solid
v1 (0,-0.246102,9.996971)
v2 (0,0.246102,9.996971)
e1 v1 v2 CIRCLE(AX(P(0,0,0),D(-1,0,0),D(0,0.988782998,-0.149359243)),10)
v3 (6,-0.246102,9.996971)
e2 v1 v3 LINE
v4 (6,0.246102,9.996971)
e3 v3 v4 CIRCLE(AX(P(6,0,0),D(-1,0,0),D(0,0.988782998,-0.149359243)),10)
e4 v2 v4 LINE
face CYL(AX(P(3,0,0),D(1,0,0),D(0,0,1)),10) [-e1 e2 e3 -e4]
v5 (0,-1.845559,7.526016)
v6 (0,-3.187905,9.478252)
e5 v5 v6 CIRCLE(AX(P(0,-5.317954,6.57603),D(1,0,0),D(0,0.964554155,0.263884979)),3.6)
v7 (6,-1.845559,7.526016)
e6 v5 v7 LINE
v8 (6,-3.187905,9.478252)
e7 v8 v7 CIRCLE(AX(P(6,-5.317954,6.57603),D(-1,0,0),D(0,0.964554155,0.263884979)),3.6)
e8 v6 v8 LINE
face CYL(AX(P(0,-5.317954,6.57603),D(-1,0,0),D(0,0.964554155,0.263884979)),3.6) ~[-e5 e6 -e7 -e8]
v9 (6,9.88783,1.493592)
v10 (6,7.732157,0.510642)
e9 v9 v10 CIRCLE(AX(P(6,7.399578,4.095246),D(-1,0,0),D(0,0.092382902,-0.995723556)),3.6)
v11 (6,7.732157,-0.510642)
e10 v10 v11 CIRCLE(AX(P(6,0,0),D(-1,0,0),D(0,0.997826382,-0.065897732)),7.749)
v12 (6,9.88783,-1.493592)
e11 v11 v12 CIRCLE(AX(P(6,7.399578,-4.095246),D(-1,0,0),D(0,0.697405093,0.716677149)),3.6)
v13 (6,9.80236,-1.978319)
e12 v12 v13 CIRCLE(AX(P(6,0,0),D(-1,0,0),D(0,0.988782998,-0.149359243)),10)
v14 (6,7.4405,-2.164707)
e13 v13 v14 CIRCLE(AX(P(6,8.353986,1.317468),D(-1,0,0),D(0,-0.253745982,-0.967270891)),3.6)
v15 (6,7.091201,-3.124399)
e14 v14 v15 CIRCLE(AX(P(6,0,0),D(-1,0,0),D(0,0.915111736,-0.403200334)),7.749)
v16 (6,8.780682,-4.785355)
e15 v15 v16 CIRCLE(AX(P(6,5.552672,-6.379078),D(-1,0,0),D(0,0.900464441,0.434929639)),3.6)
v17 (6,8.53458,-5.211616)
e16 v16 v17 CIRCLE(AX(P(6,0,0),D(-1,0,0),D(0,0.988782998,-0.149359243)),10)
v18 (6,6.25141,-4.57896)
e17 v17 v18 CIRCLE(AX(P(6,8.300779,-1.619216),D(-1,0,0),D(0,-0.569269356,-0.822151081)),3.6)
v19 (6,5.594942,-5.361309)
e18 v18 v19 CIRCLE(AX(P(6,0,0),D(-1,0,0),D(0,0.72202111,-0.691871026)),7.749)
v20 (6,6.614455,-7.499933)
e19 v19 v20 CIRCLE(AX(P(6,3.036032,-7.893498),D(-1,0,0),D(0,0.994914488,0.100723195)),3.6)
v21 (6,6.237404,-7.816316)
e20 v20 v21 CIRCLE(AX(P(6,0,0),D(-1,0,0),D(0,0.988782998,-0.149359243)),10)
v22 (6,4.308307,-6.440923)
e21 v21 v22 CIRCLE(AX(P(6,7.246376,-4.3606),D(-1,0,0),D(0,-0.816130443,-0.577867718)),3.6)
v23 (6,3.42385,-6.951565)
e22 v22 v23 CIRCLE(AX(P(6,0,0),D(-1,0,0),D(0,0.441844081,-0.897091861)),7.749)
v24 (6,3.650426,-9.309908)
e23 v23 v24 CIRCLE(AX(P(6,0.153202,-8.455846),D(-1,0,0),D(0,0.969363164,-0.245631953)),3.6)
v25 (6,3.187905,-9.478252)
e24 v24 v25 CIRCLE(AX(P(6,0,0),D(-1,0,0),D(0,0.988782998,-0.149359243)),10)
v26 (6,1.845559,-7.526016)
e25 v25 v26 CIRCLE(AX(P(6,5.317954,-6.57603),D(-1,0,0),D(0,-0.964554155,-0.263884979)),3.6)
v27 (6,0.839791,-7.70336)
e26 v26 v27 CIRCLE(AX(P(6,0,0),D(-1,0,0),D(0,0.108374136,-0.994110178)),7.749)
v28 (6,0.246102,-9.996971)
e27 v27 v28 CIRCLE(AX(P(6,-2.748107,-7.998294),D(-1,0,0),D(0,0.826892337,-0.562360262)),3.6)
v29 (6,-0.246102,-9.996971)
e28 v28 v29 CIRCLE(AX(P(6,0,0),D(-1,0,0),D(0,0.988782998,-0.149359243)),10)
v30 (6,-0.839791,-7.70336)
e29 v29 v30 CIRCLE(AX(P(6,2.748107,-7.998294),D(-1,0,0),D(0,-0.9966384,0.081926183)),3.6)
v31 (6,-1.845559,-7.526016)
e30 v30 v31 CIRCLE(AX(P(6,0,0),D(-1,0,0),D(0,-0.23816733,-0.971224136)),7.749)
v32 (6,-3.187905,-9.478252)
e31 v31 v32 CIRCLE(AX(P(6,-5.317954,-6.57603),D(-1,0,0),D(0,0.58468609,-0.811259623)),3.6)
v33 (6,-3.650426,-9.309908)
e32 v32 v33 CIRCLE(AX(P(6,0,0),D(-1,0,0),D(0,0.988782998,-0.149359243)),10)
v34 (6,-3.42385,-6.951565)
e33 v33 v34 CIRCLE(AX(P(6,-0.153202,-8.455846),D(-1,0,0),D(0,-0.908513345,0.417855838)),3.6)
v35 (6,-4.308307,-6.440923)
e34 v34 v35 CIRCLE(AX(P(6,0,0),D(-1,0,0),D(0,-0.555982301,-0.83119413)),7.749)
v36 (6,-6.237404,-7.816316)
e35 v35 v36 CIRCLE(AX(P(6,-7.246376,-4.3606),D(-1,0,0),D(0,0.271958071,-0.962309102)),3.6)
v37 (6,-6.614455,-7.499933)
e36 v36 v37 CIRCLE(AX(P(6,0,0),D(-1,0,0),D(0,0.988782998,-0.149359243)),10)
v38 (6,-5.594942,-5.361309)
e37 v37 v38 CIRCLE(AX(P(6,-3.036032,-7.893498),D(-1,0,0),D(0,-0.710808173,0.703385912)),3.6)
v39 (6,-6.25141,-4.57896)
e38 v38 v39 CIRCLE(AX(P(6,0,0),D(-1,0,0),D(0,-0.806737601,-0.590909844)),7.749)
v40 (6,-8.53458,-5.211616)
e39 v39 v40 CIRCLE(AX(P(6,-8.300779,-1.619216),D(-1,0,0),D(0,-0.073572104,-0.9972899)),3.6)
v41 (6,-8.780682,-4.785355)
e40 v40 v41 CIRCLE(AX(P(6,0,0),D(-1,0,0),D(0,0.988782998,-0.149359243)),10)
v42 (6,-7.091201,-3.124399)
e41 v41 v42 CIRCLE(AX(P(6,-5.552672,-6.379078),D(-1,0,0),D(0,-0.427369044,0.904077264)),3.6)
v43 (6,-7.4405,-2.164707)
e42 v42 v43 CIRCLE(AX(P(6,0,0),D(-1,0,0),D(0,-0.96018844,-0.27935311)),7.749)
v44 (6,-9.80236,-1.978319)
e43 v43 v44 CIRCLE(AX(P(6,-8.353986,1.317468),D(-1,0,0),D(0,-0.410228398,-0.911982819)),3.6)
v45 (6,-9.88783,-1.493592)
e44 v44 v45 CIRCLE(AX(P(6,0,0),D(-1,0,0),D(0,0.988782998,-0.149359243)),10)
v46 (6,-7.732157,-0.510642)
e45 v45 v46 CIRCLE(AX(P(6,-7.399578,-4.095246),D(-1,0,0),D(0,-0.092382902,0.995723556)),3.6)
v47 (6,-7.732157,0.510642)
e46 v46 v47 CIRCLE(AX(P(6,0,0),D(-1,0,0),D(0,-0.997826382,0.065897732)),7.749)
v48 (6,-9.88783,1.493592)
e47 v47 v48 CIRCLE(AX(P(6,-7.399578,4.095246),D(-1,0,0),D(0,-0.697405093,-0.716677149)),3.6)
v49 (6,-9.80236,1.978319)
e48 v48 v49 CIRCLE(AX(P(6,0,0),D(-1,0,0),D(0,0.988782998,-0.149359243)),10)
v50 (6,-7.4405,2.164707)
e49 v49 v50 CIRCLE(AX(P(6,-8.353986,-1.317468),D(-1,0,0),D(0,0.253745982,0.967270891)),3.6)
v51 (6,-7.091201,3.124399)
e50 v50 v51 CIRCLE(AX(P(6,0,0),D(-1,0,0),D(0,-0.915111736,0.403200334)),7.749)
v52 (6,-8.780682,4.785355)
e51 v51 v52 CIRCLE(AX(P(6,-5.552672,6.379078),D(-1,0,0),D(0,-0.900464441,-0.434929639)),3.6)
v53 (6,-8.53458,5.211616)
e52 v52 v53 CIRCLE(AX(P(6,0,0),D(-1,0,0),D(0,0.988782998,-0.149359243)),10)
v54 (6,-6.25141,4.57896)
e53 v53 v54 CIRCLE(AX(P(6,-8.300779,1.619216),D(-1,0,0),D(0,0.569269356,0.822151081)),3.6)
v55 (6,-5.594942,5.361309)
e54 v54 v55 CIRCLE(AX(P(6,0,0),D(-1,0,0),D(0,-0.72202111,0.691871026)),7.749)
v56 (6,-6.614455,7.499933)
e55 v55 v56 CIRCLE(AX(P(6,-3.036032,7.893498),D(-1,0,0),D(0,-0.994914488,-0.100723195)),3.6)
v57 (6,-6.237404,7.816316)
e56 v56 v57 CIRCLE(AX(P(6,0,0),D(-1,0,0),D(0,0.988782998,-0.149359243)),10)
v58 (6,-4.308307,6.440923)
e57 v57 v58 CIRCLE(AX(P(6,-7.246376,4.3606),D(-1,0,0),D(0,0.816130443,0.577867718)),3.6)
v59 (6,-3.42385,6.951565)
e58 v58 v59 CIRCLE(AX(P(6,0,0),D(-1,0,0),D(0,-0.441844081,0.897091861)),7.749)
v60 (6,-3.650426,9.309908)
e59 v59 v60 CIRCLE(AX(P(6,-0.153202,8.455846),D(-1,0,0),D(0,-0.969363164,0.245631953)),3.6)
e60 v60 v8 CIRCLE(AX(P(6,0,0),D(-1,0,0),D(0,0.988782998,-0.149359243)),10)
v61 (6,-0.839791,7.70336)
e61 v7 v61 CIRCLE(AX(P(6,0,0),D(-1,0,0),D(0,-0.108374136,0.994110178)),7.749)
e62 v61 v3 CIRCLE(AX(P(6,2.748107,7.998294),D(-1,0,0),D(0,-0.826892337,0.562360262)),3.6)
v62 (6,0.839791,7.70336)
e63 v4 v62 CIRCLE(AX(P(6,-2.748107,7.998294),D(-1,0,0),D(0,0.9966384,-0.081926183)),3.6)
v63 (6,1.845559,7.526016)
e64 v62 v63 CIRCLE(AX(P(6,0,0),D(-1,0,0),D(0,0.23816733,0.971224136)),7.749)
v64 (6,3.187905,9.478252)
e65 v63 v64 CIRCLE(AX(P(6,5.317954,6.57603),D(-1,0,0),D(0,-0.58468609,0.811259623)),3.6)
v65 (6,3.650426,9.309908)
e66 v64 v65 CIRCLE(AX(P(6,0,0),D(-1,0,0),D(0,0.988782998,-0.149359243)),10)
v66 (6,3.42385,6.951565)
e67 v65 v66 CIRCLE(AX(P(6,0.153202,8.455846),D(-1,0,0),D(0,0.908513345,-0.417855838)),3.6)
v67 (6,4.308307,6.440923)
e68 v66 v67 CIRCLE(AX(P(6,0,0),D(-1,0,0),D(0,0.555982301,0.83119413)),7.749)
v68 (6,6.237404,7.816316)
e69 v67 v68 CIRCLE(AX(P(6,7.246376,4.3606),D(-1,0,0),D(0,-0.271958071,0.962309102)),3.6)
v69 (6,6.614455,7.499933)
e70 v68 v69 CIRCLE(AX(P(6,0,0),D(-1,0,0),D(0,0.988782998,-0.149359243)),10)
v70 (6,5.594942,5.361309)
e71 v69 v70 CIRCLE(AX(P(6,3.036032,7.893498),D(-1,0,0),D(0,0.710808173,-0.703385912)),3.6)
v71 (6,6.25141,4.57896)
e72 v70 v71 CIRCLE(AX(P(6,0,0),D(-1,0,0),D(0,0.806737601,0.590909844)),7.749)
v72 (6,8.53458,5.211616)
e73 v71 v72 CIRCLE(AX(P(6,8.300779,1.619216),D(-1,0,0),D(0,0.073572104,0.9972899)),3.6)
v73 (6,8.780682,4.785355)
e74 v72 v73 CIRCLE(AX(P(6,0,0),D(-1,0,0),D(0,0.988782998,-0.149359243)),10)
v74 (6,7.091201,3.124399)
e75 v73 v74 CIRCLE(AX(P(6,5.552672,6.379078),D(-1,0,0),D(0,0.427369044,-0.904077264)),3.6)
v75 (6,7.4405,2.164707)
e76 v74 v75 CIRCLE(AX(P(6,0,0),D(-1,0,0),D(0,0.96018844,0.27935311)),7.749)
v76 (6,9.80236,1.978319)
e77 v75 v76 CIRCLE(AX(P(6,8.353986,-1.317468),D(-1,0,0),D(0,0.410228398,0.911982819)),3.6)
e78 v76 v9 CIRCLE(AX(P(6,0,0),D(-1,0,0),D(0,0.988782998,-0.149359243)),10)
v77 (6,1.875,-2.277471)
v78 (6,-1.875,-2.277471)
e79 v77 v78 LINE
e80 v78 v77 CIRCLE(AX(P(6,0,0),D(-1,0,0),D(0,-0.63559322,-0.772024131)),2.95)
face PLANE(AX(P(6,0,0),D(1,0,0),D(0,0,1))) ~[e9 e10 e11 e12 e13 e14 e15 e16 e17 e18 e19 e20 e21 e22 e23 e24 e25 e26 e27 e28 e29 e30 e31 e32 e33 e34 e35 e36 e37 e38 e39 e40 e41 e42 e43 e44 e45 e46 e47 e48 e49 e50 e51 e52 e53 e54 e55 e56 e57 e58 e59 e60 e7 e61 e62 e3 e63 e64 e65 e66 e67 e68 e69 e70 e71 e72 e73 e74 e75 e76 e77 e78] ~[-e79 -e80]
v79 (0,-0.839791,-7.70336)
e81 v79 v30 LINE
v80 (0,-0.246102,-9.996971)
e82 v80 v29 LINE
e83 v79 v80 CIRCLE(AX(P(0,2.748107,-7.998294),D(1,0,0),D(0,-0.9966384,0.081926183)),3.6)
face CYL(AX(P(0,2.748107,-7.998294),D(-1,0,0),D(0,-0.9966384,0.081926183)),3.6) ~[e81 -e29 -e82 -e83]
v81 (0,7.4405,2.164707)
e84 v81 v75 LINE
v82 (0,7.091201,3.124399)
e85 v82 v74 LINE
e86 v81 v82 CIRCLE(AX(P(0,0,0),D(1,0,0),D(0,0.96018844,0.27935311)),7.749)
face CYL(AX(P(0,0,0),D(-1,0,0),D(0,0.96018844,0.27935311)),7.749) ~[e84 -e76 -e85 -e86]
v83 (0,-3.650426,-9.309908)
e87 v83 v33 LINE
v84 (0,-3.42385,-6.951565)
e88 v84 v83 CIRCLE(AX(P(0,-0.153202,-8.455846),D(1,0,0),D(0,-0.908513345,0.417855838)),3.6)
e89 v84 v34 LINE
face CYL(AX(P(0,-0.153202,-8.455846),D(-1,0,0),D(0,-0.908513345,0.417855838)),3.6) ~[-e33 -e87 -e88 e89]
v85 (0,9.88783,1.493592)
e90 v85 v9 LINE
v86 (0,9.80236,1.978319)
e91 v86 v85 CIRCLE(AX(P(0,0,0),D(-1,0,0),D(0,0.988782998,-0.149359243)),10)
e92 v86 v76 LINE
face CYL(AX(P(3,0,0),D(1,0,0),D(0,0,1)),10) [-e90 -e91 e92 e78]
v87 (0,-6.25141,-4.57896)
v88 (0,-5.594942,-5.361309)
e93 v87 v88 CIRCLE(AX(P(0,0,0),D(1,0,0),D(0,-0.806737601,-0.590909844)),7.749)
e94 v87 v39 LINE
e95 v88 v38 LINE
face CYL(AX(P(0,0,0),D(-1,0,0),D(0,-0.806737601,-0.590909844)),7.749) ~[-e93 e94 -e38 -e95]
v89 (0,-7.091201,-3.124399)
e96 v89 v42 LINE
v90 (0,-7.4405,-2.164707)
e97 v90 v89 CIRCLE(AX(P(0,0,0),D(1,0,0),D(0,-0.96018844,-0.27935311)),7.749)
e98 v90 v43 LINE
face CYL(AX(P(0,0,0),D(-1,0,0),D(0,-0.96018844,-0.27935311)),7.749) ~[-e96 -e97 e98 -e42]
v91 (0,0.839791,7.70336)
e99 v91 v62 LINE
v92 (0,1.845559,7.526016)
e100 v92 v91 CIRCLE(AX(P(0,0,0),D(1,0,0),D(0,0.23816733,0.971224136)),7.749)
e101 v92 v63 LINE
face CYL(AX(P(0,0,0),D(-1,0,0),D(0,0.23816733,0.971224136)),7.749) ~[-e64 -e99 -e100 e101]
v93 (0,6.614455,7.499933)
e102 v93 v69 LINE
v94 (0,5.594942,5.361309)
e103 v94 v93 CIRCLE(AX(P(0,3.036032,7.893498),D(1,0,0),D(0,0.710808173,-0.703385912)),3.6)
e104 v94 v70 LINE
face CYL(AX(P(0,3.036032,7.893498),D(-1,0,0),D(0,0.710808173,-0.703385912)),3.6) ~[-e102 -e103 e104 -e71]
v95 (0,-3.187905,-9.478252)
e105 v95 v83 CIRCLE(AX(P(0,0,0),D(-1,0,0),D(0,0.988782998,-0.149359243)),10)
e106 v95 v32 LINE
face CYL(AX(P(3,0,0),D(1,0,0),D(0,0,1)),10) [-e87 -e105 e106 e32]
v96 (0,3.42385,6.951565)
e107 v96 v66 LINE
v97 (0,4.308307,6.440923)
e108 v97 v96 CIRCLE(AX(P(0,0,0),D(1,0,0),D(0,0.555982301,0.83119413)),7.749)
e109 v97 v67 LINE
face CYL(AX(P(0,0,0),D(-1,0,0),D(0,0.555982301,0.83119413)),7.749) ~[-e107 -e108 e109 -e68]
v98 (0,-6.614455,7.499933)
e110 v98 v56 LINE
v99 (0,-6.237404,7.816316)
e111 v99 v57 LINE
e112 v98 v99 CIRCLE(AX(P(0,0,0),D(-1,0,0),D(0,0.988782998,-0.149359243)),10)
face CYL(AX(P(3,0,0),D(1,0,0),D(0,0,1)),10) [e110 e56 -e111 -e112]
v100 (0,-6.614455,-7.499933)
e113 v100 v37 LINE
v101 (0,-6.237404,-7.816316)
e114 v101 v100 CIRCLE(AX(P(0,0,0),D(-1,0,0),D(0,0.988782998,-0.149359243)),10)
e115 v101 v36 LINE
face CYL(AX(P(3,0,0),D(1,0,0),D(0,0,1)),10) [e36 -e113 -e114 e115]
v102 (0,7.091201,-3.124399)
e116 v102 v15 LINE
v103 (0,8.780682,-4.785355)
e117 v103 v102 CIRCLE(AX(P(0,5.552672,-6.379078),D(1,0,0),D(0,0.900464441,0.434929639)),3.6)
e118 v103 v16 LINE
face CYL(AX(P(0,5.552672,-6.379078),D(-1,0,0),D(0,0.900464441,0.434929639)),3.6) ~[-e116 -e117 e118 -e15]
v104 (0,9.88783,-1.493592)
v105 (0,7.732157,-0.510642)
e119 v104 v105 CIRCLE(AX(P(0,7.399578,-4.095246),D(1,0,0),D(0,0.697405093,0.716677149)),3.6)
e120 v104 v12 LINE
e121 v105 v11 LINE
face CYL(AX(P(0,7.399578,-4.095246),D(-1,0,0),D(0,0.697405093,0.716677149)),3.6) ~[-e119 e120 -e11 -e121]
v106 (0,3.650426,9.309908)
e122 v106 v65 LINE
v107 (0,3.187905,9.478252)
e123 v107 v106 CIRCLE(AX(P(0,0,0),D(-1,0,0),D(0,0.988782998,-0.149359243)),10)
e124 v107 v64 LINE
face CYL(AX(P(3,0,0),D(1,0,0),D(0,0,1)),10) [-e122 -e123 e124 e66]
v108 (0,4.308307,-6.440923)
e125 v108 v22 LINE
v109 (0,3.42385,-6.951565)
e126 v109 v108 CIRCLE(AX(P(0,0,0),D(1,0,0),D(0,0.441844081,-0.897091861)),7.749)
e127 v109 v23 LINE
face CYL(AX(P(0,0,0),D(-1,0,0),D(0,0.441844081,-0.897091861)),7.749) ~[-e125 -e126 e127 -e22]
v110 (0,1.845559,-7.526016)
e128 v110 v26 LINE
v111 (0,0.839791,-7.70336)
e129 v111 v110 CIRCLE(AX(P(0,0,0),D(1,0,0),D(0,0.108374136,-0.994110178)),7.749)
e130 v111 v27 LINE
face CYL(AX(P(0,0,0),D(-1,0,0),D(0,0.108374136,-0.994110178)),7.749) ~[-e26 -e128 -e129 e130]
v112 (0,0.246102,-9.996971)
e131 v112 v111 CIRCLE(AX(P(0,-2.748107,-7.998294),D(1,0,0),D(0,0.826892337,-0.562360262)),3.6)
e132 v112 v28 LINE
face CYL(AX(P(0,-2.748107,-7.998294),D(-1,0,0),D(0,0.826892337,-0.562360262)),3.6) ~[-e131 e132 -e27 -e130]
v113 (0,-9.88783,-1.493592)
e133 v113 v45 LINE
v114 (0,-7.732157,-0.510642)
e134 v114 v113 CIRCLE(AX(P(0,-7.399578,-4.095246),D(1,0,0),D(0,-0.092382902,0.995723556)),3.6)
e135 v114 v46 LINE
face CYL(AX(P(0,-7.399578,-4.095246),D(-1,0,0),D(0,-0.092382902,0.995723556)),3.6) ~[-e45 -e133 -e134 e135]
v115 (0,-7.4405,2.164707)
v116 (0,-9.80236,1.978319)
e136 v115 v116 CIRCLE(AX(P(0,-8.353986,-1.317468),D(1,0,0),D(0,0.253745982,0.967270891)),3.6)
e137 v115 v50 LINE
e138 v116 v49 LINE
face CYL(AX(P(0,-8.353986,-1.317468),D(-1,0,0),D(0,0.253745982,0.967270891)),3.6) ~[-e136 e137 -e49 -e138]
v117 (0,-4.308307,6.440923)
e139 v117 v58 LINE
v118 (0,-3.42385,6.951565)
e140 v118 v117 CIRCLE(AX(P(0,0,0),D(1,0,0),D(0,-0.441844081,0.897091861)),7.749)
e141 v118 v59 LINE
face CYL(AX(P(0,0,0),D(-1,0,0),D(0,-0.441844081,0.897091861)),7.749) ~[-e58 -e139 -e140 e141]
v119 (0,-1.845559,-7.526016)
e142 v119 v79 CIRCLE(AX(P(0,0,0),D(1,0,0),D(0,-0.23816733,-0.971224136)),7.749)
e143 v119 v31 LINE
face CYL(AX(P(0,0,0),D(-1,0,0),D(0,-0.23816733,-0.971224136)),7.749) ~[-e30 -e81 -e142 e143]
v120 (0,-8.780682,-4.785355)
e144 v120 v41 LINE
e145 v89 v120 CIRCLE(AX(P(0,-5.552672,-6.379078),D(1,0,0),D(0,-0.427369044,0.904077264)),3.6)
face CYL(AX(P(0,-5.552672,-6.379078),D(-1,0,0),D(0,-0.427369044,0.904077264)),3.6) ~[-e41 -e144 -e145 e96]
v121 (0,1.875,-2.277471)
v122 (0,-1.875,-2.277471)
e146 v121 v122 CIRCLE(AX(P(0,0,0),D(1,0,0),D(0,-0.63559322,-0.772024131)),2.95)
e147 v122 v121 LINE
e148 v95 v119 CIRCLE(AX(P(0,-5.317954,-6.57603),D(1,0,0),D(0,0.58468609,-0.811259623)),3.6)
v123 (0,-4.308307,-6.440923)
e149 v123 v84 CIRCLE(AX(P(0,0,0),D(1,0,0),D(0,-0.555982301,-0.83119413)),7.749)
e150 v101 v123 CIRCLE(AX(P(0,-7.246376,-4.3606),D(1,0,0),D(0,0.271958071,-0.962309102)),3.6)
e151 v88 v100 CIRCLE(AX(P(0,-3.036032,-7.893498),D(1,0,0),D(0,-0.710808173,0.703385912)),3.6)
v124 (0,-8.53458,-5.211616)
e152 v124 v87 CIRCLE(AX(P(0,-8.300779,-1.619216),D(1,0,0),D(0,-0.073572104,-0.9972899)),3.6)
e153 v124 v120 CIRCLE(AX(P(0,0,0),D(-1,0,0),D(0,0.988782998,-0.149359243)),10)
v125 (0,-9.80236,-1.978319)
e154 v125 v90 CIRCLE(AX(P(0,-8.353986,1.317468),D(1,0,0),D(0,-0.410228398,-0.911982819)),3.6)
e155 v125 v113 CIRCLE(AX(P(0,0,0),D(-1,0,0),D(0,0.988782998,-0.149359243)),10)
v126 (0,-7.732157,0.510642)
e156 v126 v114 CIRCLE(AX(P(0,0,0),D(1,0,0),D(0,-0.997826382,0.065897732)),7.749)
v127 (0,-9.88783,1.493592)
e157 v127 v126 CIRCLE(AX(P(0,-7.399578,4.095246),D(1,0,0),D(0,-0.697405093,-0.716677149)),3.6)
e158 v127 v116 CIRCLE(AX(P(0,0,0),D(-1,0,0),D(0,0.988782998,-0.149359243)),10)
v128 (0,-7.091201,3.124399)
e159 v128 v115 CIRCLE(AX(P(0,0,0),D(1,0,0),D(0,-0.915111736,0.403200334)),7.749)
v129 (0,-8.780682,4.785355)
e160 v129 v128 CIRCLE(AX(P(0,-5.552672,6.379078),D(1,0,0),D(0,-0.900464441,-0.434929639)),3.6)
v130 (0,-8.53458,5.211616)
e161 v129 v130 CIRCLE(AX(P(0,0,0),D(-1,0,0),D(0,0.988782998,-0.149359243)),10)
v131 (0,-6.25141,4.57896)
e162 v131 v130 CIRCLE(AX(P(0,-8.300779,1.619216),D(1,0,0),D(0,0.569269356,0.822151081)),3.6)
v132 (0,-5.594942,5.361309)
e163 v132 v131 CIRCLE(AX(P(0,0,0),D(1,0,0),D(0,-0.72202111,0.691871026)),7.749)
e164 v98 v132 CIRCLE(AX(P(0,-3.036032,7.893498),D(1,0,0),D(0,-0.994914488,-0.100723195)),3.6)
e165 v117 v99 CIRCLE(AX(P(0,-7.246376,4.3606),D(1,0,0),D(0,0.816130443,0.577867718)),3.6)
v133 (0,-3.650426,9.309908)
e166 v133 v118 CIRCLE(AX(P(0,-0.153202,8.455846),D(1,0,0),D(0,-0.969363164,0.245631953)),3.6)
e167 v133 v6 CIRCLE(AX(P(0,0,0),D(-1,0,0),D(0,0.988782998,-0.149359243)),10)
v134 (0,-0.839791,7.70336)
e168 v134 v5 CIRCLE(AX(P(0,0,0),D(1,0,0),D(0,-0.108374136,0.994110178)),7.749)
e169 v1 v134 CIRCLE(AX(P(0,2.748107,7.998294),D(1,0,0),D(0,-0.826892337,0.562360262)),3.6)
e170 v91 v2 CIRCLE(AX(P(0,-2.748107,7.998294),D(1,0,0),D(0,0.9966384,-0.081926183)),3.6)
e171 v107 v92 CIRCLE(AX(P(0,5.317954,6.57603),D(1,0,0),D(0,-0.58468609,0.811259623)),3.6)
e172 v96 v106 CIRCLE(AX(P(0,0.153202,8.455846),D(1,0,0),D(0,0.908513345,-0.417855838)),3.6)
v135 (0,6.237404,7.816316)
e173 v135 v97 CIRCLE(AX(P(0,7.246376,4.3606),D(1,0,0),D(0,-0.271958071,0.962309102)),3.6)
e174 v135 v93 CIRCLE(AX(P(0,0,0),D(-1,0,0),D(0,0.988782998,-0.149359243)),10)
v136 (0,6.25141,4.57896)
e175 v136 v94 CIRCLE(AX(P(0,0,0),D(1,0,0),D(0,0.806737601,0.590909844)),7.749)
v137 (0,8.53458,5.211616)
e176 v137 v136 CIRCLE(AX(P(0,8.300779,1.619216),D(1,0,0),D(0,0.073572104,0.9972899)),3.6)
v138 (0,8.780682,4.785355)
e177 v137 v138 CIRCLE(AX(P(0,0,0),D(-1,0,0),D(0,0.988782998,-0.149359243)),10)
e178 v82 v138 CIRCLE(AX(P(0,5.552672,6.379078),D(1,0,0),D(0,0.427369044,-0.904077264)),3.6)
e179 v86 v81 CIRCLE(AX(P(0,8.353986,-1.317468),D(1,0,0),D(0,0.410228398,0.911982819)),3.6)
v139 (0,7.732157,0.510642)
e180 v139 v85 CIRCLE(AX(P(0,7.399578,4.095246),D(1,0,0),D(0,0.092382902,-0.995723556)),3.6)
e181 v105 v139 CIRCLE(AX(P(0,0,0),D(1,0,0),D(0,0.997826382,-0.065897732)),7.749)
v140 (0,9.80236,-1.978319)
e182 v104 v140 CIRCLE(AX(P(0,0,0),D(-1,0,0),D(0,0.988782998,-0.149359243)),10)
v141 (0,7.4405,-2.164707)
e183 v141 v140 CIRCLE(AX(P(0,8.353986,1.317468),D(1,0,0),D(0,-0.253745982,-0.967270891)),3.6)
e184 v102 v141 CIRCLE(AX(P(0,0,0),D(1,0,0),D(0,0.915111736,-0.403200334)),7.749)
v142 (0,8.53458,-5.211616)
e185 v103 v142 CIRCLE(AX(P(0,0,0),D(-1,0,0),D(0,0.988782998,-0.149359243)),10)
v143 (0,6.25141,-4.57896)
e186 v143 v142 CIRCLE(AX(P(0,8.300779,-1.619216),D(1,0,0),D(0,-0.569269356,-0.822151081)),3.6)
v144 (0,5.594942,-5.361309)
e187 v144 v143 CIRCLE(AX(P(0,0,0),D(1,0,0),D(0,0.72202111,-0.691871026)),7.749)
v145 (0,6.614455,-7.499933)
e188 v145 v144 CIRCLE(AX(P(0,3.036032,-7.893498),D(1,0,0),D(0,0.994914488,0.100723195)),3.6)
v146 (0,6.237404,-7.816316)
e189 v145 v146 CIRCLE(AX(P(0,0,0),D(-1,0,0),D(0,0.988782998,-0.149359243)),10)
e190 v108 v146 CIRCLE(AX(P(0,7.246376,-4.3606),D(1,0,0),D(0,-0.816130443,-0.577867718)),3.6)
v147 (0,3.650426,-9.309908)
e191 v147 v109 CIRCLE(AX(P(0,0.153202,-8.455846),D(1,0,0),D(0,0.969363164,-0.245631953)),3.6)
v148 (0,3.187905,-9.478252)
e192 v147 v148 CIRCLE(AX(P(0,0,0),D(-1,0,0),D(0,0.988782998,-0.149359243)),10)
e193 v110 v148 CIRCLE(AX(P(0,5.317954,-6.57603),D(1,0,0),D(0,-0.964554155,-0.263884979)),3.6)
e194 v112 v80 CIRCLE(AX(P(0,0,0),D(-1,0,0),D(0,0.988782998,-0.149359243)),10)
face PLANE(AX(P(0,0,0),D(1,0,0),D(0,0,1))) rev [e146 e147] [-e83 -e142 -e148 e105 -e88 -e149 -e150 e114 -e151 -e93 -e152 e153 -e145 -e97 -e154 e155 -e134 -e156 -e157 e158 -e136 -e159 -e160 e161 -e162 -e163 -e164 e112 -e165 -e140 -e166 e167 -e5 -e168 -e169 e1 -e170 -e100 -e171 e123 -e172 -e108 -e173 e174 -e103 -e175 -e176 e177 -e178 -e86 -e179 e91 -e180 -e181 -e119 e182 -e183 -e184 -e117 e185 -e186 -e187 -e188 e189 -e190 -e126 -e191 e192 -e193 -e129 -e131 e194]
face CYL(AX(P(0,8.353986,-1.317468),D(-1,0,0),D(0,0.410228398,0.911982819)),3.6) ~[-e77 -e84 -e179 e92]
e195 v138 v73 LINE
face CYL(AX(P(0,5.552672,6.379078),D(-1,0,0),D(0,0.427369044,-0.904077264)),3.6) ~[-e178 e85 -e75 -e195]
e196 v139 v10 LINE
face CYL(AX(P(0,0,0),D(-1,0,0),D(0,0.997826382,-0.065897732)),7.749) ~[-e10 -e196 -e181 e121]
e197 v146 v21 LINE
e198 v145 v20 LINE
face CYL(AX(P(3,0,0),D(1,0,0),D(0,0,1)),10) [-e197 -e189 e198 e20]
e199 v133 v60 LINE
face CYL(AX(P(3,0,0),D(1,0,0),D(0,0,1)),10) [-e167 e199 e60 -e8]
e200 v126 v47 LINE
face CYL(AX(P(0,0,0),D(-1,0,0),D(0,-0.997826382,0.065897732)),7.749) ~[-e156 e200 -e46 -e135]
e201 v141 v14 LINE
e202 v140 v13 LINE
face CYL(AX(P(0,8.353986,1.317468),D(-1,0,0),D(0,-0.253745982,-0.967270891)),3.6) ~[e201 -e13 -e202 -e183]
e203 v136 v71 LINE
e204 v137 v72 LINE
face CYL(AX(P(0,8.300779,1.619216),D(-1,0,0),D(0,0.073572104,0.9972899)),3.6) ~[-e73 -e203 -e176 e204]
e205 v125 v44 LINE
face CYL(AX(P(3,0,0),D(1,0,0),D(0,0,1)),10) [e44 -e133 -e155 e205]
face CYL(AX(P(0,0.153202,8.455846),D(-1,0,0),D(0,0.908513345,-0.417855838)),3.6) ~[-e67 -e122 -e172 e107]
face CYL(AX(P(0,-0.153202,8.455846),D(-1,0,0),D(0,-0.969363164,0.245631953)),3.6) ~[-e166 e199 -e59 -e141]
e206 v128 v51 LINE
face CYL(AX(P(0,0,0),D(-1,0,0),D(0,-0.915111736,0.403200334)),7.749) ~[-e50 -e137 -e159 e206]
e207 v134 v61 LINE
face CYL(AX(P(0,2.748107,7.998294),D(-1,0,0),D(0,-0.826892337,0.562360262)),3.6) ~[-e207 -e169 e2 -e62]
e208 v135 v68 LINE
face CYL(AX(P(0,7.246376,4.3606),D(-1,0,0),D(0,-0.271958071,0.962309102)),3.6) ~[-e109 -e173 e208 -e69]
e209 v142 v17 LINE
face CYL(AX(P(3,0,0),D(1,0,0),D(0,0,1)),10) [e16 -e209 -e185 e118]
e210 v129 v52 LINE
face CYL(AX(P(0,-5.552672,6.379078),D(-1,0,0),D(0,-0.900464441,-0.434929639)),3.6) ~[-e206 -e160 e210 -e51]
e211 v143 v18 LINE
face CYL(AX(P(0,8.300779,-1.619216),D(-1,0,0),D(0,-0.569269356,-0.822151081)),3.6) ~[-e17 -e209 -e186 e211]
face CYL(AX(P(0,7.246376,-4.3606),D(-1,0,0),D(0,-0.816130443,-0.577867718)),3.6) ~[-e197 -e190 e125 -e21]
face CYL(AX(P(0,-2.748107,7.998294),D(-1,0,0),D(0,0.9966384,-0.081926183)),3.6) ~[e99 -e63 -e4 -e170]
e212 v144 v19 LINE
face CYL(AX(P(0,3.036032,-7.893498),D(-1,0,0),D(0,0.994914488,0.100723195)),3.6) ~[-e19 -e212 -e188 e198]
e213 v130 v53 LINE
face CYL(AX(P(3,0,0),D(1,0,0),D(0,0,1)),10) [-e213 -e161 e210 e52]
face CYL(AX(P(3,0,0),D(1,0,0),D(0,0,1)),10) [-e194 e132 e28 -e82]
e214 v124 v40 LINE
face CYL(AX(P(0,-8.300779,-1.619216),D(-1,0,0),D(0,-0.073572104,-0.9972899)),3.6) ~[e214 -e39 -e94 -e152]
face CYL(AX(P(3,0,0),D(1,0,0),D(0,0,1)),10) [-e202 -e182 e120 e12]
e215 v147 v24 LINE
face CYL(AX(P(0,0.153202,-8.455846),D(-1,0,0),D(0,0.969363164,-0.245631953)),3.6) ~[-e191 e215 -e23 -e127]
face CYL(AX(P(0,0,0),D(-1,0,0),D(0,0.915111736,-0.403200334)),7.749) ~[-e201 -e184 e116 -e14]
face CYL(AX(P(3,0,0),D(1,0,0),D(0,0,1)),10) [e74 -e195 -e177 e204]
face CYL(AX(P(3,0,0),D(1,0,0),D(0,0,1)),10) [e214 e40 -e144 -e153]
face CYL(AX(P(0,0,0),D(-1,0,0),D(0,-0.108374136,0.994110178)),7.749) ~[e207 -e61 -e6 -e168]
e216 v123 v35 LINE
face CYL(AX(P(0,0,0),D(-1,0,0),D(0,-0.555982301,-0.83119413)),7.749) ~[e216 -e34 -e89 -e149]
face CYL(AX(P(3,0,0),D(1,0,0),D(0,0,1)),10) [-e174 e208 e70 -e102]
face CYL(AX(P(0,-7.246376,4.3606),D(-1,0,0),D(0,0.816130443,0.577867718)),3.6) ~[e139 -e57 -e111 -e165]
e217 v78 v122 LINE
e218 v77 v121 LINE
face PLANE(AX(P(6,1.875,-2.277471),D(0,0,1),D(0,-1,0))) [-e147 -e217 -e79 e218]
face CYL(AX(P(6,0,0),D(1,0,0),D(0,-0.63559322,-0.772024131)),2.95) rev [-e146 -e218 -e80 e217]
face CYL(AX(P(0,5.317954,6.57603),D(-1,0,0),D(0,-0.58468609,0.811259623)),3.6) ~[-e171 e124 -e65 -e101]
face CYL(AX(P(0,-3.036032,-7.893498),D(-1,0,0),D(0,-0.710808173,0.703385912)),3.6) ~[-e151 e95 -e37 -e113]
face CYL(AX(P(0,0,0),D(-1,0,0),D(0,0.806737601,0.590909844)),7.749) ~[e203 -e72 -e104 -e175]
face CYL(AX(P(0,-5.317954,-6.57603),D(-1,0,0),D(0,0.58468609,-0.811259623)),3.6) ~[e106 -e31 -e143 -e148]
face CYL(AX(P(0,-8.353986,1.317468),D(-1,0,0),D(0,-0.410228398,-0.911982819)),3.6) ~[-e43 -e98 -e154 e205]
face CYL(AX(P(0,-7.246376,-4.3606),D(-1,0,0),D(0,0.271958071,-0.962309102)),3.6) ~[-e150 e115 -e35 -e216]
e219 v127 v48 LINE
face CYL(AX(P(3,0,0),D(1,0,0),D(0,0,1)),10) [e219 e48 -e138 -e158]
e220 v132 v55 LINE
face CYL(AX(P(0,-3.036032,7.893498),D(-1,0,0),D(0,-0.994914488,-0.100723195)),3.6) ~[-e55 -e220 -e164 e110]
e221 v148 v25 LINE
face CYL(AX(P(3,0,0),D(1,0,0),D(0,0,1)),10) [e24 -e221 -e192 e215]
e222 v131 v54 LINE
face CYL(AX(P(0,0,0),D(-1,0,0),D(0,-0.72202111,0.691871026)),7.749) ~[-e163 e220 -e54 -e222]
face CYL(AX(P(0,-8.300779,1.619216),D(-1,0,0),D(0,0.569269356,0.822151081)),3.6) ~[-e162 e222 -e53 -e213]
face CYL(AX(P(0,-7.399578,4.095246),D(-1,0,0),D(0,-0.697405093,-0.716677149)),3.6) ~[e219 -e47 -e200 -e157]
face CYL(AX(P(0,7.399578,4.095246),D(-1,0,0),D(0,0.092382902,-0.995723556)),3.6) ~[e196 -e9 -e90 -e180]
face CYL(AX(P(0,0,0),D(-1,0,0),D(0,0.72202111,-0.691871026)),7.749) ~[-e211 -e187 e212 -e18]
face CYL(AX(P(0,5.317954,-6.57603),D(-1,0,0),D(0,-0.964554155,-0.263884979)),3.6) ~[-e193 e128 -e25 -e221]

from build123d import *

# Parameters (mm, degrees)
BASPROSKE_W        = 6
BASPROSKE_H        = 10
TOOTHCUT_DEPTH     = 16.362291496
TEETHCUTS_COUNT    = 18
TEETHCUTS_ANGLE    = 340
CUT_EXTRUDE1_DEPTH = 16.289512146


with BuildPart() as part:
    # BasProSke → Base-Revolve (revolve)
    with BuildSketch(Plane(origin=(0, 0, 0), x_dir=(1, 0, 0), z_dir=(0, 1, 0)), mode=Mode.PRIVATE) as base_revolve_sk:
        with Locations((3, 5)):
            Rectangle(BASPROSKE_W, BASPROSKE_H)
    revolve(base_revolve_sk.sketch.rotate(Axis((-10, 0, 0), (1, 0, 0)), 180), axis=Axis((-10, 0, 0), (1, 0, 0)))

    # TooCutSke → ToothCut (cut, through all)
    with BuildSketch(Plane(origin=(0, 0, 0), x_dir=(0, 0, -1), z_dir=(1, 0, 0))):
        with BuildLine():
            ThreePointArc((0.510641536, 7.732156635), (0, 7.749), (-0.510641536, 7.732156635))
            ThreePointArc((-0.510641536, 7.732156635), (-0.82619259, 8.907320741), (-1.515208602, 9.910236529))
            ThreePointArc((-1.515208602, 9.910236529), (0, 10.0254), (1.515208602, 9.910236529))
            ThreePointArc((1.515208602, 9.910236529), (0.82619259, 8.907320741), (0.510641536, 7.732156635))
        make_face()
    toothcut = extrude(amount=TOOTHCUT_DEPTH, mode=Mode.SUBTRACT)

    # TeethCuts: ToothCut ×18 about axis
    teethcuts_axis = Axis((-10, 0, 0), (1, 0, 0))
    for i in range(1, TEETHCUTS_COUNT):
        add(toothcut.rotate(teethcuts_axis, i * TEETHCUTS_ANGLE / (TEETHCUTS_COUNT - 1)), mode=Mode.SUBTRACT)

    # Sketch1 → Cut-Extrude1 (cut, through all)
    with BuildSketch(Plane(origin=(6, 0, 0), x_dir=(0, 0, -1), z_dir=(1, 0, 0))):
        with BuildLine():
            Line((2.277471185, 1.875), (2.277471185, -1.875))
            ThreePointArc((2.277471185, -1.875), (-2.95, 0), (2.277471185, 1.875))
        make_face()
    extrude(amount=-CUT_EXTRUDE1_DEPTH, mode=Mode.SUBTRACT)


solid = part.part
